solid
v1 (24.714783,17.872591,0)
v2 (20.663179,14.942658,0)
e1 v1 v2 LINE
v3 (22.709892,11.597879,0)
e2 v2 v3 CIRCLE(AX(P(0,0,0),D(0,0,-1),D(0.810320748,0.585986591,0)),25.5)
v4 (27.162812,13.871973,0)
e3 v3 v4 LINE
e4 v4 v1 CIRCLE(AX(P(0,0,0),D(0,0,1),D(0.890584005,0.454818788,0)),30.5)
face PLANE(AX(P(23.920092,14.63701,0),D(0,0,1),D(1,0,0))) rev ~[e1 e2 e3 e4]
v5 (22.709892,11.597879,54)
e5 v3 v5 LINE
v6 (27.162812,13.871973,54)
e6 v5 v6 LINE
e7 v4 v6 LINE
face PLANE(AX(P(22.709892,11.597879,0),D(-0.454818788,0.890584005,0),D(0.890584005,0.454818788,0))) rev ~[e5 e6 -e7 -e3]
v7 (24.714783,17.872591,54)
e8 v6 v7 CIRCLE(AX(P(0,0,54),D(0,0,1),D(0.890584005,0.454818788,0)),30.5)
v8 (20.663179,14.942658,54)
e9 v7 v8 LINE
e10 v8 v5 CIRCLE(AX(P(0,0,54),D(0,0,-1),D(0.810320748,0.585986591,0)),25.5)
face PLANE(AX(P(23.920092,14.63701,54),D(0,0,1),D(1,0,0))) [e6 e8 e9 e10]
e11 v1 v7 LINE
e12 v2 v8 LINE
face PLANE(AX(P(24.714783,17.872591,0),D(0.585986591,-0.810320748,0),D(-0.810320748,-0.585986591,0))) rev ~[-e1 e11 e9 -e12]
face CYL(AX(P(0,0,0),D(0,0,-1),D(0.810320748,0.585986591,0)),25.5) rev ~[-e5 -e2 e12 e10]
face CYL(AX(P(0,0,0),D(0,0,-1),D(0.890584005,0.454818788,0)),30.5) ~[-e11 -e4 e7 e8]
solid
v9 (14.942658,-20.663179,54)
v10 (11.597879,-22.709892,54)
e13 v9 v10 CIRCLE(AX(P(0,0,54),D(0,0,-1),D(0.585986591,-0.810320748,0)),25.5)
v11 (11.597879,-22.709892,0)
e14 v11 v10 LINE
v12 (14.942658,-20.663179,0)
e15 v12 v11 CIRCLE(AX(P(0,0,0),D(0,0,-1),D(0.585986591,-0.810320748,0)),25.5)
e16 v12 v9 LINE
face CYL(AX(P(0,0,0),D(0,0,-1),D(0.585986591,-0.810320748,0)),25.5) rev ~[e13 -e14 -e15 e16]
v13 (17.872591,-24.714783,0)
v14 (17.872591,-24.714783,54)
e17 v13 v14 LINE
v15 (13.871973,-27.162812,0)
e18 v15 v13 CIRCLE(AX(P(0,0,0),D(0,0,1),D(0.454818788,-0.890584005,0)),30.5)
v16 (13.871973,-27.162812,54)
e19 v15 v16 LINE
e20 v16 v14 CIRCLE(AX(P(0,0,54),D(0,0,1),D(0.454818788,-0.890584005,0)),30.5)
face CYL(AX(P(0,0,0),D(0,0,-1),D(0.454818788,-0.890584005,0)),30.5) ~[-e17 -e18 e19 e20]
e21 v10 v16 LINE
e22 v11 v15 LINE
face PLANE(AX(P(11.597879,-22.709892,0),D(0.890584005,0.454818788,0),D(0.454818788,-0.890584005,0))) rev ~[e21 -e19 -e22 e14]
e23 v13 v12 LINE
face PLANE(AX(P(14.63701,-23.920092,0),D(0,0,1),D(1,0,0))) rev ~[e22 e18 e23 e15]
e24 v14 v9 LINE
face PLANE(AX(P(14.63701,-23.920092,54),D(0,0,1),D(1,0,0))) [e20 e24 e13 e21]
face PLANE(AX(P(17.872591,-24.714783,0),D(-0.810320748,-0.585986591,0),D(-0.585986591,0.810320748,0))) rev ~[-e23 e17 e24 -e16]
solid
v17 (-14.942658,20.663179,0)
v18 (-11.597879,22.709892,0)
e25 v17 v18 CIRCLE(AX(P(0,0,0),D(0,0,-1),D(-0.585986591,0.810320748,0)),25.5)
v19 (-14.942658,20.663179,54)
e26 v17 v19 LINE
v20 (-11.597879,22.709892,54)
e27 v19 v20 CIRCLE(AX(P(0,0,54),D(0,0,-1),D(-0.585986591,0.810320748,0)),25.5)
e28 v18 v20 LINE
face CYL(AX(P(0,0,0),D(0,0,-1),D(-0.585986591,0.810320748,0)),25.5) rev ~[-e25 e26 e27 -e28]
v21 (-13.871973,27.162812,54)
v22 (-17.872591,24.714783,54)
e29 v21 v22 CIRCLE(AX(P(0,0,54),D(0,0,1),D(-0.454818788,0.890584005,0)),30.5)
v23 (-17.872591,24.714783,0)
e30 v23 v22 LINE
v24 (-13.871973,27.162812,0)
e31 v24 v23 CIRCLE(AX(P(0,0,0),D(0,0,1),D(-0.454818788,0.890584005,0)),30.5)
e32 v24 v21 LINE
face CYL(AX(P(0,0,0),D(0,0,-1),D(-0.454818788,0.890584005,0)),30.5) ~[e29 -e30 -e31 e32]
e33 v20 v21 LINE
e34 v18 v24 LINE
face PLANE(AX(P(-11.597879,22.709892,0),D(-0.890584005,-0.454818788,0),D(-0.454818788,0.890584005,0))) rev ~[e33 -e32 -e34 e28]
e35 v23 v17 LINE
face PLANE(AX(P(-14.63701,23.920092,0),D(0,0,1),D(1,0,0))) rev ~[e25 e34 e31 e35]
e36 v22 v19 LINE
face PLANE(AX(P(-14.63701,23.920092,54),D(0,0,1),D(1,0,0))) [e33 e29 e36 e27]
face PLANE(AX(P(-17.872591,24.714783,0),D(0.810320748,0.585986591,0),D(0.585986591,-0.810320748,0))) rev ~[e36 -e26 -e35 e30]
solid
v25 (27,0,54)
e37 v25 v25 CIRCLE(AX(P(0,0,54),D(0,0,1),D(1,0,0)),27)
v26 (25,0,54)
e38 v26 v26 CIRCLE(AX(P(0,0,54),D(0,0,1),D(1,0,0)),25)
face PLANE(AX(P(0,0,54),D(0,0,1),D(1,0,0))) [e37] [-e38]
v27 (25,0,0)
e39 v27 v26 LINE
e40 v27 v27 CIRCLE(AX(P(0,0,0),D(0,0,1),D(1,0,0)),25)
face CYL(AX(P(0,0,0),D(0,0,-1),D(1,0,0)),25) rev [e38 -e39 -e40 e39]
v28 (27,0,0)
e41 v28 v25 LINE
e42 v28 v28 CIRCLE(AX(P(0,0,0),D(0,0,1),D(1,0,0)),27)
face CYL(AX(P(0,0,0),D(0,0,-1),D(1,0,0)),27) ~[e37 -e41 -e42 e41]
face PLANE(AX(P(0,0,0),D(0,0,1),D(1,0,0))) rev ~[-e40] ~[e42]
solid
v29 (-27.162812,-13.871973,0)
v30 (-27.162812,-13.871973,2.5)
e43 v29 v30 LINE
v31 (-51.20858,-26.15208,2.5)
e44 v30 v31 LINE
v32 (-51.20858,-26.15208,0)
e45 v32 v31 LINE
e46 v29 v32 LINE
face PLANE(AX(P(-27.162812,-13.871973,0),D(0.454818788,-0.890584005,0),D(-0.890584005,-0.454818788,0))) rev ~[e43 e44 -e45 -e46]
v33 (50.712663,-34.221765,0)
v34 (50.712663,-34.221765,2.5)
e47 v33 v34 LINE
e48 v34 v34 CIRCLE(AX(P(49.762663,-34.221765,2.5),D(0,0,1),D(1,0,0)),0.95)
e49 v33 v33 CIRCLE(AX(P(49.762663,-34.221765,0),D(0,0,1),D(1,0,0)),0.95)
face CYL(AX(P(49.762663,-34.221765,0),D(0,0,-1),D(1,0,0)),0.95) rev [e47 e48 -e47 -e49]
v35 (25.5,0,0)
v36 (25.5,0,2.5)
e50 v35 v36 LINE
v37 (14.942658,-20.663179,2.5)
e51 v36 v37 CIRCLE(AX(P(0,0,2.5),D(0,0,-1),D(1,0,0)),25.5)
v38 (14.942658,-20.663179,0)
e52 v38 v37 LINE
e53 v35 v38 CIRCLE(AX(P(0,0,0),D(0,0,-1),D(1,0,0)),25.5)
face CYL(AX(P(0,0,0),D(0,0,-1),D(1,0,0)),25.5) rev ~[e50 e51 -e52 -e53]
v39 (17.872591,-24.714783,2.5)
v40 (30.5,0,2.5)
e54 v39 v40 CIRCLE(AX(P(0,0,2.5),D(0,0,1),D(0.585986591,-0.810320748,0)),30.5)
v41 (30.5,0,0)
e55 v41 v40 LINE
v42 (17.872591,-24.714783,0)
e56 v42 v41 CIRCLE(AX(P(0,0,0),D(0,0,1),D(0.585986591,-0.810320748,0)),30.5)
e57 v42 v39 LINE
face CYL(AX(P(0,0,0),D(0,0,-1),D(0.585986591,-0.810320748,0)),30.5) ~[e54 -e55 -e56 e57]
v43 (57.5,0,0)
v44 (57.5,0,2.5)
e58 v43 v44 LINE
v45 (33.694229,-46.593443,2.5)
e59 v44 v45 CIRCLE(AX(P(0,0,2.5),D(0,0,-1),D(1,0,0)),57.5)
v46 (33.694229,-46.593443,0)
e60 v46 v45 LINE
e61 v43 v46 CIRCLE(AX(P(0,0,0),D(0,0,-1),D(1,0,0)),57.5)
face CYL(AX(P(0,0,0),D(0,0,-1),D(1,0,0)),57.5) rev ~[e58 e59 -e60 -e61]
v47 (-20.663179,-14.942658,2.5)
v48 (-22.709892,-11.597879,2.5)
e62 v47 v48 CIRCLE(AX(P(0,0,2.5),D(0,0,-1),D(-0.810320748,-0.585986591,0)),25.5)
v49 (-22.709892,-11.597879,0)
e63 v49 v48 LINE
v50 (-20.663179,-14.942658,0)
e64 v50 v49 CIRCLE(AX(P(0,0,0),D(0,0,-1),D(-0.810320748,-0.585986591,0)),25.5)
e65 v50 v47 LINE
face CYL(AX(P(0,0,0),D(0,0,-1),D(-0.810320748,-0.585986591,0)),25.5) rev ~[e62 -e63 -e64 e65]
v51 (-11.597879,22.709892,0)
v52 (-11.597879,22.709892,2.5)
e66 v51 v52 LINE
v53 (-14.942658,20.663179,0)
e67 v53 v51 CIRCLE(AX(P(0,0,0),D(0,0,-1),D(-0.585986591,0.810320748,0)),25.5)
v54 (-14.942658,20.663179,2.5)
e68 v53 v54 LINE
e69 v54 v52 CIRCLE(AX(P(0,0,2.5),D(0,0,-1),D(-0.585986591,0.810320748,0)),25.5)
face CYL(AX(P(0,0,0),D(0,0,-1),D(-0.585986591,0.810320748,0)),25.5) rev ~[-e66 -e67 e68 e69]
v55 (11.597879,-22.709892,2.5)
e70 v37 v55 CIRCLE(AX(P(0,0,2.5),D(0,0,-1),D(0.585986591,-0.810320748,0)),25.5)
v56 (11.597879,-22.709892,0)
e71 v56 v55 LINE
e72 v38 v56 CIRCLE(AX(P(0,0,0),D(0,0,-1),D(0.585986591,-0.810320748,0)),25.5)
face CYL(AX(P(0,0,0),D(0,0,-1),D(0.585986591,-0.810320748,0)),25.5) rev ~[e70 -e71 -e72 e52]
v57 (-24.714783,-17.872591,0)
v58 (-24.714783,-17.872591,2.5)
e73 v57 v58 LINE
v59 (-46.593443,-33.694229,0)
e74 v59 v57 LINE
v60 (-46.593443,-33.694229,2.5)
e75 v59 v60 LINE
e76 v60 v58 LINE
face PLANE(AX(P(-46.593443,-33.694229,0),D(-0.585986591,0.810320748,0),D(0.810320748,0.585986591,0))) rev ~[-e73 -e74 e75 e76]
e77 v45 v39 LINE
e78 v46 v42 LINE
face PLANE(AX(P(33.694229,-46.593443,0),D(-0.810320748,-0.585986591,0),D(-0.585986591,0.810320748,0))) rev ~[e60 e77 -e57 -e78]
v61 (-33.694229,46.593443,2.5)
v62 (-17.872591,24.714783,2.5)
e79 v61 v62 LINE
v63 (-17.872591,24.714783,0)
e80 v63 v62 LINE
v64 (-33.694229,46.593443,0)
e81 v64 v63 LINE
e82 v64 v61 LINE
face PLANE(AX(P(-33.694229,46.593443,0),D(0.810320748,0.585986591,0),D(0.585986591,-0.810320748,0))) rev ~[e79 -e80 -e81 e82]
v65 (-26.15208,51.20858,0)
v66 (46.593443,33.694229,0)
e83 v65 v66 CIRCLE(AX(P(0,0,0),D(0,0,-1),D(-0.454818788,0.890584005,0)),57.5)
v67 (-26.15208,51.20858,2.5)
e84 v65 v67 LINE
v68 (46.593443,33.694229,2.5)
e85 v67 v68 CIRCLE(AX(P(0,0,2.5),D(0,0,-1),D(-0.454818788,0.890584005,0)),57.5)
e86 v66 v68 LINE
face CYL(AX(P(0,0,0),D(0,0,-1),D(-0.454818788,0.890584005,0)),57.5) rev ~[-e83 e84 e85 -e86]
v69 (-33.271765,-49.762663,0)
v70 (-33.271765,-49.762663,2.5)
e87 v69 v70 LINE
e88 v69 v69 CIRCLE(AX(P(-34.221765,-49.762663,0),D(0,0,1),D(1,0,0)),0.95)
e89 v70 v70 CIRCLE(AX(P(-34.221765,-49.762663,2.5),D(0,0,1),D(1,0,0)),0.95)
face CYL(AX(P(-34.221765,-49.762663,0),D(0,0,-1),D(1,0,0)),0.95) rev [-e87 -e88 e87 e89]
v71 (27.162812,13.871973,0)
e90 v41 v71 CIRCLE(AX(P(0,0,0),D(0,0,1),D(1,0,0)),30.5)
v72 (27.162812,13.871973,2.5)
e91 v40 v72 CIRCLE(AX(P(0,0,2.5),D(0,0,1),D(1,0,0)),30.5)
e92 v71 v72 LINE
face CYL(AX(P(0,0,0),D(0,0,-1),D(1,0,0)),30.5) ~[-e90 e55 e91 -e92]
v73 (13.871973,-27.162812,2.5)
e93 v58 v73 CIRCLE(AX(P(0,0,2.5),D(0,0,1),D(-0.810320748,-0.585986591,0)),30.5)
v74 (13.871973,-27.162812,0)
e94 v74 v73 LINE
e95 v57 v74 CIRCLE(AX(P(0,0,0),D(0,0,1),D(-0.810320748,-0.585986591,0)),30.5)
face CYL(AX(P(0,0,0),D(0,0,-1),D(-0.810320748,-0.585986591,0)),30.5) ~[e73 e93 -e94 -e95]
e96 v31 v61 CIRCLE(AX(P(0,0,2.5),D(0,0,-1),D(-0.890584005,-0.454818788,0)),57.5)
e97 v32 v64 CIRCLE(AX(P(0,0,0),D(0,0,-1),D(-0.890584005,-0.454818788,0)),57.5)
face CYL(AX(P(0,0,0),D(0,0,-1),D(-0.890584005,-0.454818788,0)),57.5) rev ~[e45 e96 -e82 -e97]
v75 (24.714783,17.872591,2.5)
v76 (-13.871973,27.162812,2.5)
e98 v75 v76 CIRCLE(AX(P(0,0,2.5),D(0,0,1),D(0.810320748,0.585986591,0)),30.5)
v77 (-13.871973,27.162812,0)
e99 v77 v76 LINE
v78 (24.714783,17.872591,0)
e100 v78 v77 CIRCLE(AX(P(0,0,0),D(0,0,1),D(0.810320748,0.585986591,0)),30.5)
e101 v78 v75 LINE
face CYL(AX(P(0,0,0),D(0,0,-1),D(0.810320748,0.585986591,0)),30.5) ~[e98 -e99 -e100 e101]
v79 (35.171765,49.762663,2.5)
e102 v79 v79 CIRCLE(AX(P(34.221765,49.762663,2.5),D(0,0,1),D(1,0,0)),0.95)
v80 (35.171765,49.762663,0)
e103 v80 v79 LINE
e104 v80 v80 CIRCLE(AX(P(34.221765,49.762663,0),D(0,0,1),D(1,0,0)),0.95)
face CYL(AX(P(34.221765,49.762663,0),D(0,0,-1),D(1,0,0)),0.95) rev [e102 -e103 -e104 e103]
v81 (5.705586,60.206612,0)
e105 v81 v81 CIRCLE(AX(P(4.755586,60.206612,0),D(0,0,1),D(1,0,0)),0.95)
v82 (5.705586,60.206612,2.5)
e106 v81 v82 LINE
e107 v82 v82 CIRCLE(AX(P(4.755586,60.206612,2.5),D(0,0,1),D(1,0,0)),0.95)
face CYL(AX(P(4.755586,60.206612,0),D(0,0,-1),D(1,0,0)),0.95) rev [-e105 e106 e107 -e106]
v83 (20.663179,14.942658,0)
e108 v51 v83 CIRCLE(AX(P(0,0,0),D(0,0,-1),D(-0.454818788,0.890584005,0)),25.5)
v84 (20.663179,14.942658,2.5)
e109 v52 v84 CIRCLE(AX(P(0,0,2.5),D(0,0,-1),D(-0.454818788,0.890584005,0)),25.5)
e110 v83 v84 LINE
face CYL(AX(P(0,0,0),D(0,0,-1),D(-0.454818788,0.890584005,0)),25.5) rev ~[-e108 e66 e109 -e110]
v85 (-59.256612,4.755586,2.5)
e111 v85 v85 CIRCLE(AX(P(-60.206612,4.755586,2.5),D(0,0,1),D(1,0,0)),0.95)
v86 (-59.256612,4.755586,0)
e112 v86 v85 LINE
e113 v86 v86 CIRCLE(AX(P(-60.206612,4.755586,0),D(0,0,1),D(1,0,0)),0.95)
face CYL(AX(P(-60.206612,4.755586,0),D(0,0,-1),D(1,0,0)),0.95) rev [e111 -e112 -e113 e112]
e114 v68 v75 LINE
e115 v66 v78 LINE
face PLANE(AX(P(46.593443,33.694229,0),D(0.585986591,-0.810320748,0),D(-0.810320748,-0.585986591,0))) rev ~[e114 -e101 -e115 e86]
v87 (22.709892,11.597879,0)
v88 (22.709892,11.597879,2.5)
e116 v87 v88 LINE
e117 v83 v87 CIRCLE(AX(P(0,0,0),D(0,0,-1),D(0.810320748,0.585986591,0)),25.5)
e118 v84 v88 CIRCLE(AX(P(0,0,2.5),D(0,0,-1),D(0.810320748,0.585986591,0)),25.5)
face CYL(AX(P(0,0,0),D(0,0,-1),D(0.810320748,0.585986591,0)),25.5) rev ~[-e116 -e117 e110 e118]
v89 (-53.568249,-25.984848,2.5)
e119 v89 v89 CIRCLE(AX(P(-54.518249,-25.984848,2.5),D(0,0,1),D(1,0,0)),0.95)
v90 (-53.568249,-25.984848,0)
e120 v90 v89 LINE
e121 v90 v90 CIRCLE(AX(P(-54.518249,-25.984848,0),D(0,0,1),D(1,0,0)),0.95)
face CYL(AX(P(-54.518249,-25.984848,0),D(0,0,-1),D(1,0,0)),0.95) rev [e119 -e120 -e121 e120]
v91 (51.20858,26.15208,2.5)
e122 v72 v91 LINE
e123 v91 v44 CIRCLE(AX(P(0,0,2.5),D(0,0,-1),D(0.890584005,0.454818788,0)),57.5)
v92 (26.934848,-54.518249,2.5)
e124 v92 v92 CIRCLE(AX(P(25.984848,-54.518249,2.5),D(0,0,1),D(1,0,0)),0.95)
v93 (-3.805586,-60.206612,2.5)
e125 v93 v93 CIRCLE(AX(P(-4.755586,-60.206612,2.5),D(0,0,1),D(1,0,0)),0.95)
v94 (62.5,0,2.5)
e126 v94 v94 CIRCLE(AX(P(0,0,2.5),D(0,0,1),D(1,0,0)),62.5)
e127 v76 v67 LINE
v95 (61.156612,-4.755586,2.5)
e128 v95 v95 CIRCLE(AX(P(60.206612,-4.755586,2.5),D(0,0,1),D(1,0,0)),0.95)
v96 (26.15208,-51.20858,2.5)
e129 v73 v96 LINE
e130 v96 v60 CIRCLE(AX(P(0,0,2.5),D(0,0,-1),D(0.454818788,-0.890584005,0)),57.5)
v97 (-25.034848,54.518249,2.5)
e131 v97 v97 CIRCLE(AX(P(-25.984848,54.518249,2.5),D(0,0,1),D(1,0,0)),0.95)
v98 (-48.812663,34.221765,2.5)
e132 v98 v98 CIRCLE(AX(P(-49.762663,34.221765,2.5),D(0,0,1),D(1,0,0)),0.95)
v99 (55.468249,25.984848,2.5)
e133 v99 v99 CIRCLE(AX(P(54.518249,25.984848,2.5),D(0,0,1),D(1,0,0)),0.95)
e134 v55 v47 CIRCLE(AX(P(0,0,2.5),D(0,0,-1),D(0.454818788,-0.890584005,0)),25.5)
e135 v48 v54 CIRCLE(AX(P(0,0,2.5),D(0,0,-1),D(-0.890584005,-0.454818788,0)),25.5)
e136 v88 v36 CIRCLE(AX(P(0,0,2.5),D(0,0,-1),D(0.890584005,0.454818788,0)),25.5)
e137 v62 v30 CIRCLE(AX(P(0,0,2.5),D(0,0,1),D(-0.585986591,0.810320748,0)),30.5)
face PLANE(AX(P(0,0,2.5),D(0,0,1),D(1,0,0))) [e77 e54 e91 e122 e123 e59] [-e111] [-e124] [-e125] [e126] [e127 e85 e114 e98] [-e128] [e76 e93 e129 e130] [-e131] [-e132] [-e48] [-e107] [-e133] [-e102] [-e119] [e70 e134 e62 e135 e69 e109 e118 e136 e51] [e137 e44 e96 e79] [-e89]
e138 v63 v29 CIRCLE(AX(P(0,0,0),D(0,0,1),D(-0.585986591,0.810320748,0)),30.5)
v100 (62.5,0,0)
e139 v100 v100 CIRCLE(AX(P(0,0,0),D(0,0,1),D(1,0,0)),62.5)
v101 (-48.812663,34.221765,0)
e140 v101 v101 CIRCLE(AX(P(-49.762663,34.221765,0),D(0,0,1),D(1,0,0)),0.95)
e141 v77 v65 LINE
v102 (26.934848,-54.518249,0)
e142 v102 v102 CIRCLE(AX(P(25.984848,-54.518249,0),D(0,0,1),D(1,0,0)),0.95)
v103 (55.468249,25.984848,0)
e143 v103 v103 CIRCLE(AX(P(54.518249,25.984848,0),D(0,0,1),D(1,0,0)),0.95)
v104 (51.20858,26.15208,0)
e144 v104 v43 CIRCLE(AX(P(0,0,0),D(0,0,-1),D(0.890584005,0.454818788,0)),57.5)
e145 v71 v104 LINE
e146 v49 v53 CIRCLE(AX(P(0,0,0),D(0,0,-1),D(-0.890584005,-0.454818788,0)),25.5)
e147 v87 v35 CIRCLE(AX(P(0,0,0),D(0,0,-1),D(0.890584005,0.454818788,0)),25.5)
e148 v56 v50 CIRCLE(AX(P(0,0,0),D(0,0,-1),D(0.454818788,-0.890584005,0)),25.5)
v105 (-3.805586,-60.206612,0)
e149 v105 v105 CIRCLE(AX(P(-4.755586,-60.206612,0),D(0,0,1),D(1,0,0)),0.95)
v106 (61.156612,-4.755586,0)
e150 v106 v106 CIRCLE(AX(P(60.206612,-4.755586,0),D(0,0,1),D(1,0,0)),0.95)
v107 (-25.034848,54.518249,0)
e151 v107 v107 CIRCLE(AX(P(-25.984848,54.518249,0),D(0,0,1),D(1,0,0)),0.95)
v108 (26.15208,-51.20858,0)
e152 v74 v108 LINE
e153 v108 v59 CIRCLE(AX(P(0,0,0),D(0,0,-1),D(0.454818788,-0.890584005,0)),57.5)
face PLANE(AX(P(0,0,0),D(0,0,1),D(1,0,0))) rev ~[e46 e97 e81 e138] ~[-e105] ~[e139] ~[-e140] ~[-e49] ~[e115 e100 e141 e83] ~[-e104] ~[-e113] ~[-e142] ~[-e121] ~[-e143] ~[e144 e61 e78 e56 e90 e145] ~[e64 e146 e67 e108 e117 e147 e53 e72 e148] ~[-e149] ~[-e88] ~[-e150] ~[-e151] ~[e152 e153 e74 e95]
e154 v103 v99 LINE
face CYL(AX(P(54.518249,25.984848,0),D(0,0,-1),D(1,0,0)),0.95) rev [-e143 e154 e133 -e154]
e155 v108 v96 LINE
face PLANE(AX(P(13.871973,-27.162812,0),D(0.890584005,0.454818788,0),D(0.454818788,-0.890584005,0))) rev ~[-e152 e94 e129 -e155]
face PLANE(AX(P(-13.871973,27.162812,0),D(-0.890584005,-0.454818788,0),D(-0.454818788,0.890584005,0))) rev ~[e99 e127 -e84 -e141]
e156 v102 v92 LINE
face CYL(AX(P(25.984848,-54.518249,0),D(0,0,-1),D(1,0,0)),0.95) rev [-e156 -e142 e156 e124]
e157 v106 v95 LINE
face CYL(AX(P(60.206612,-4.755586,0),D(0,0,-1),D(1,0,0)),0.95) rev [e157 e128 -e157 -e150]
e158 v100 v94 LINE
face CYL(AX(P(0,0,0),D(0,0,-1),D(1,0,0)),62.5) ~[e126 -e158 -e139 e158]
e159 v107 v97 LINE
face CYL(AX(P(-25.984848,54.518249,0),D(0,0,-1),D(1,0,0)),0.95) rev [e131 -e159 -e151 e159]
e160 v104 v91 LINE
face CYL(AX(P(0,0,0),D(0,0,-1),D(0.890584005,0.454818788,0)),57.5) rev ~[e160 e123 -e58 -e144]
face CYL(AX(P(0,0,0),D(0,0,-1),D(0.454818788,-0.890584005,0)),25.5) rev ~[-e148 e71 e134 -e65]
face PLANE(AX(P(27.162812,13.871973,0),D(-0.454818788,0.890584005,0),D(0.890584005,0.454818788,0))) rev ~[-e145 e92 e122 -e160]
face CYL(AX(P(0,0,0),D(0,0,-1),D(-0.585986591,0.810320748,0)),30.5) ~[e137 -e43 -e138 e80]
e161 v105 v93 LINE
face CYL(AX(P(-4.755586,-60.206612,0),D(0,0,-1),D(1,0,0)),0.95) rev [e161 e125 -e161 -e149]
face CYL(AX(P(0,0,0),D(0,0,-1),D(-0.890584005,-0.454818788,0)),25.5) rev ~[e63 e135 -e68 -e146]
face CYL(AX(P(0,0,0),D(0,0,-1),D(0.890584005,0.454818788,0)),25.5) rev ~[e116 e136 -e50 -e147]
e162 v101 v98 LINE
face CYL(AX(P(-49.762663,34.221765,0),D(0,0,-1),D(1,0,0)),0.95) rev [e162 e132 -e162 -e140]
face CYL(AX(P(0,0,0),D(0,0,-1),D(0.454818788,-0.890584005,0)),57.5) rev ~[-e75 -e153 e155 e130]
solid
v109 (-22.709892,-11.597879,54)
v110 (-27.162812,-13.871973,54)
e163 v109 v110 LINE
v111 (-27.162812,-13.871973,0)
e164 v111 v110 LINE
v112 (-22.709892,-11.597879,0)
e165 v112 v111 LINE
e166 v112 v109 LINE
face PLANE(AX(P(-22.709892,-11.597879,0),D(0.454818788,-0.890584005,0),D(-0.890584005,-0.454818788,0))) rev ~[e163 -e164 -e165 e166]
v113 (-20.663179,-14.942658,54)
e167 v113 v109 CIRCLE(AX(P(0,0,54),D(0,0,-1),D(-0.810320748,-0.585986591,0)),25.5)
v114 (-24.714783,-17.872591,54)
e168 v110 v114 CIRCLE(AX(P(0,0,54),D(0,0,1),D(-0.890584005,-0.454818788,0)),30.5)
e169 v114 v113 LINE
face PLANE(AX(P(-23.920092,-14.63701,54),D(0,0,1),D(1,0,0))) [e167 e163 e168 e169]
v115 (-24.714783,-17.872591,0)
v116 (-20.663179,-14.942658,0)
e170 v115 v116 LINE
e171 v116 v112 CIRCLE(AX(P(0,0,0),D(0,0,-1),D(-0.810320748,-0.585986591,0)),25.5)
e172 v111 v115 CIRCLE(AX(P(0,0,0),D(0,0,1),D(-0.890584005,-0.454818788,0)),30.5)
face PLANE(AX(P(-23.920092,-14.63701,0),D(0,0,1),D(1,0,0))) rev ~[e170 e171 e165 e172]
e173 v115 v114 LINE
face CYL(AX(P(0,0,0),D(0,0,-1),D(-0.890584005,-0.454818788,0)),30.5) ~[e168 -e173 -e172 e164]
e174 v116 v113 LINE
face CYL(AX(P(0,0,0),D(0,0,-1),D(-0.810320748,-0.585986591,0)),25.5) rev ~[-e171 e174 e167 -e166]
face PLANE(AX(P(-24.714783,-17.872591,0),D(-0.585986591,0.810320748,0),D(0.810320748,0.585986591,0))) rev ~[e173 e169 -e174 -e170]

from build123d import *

# Parameters (mm, degrees)
F0_R     = 62.5
F0_R_2   = 0.95
F1_DEPTH = 2.5
F2_DEPTH = 54
F3_R     = 27
F3_R_2   = 25
F4_DEPTH = 54


with BuildPart() as f1:
    # F0 (on Top) → F1 (new body)
    with BuildSketch(Plane.XY):
        Circle(F0_R)
        with Locations((-34.2217646539, -49.7626625001)):
            Circle(F0_R_2, mode=Mode.SUBTRACT)
        with Locations((-4.7555863026, -60.206612212)):
            Circle(F0_R_2, mode=Mode.SUBTRACT)
        with Locations((-54.5182488027, -25.9848475581)):
            Circle(F0_R_2, mode=Mode.SUBTRACT)
        with Locations((25.9848475581, -54.5182488027)):
            Circle(F0_R_2, mode=Mode.SUBTRACT)
        with Locations((49.7626625001, -34.2217646539)):
            Circle(F0_R_2, mode=Mode.SUBTRACT)
        with Locations((60.206612212, -4.7555863026)):
            Circle(F0_R_2, mode=Mode.SUBTRACT)
        with Locations((-60.206612212, 4.7555863026)):
            Circle(F0_R_2, mode=Mode.SUBTRACT)
        with Locations((-49.7626625001, 34.2217646539)):
            Circle(F0_R_2, mode=Mode.SUBTRACT)
        with Locations((-25.9848475581, 54.5182488027)):
            Circle(F0_R_2, mode=Mode.SUBTRACT)
        with BuildLine():
            ThreePointArc((46.5934430221, 33.6942289918), (49.0462021275, 30.0119985484), (51.2085802984, 26.1520802962))
            ThreePointArc((51.2085802984, 26.1520802962), (55.9050237777, 13.4491009521), (57.5, 0))
            ThreePointArc((57.5, 0), (51.2038483272, -26.161343935), (33.6942289918, -46.5934430221))
            ThreePointArc((33.6942289918, -46.5934430221), (30.0119985484, -49.0462021275), (26.1520802962, -51.2085802984))
            ThreePointArc((26.1520802962, -51.2085802984), (-13.4592144253, -55.9025898063), (-46.5934430221, -33.6942289918))
            ThreePointArc((-46.5934430221, -33.6942289918), (-49.0462021275, -30.0119985484), (-51.2085802984, -26.1520802962))
            ThreePointArc((-51.2085802984, -26.1520802962), (-55.9025898063, 13.4592144253), (-33.6942289918, 46.5934430221))
            ThreePointArc((-33.6942289918, 46.5934430221), (-30.0119985484, 49.0462021275), (-26.1520802962, 51.2085802984))
            ThreePointArc((-26.1520802962, 51.2085802984), (13.4592144253, 55.9025898063), (46.5934430221, 33.6942289918))
        make_face(mode=Mode.SUBTRACT)
        with Locations((54.5182488027, 25.9848475581)):
            Circle(F0_R_2, mode=Mode.SUBTRACT)
        with Locations((4.7555863026, 60.206612212)):
            Circle(F0_R_2, mode=Mode.SUBTRACT)
        with Locations((34.2217646539, 49.7626625001)):
            Circle(F0_R_2, mode=Mode.SUBTRACT)
        with BuildLine():
            ThreePointArc((-17.8725910304, 24.7147828204), (-15.9194079257, 26.0158115633), (-13.8719730267, 27.1628121583))
            Line((-13.8719730267, 27.1628121583), (-26.1520802962, 51.2085802984))
            ThreePointArc((-26.1520802962, 51.2085802984), (-30.0119985484, 49.0462021275), (-33.6942289918, 46.5934430221))
            Line((-33.6942289918, 46.5934430221), (-17.8725910304, 24.7147828204))
        make_face()
        with BuildLine():
            ThreePointArc((24.7147828204, 17.8725910304), (26.0158115633, 15.9194079257), (27.1628121583, 13.8719730267))
            Line((27.1628121583, 13.8719730267), (51.2085802984, 26.1520802962))
            ThreePointArc((51.2085802984, 26.1520802962), (49.0462021275, 30.0119985484), (46.5934430221, 33.6942289918))
            Line((46.5934430221, 33.6942289918), (24.7147828204, 17.8725910304))
        make_face()
        with BuildLine():
            Line((-46.5934430221, -33.6942289918), (-24.7147828204, -17.8725910304))
            ThreePointArc((-24.7147828204, -17.8725910304), (-26.0158115633, -15.9194079257), (-27.1628121583, -13.8719730267))
            Line((-27.1628121583, -13.8719730267), (-51.2085802984, -26.1520802962))
            ThreePointArc((-51.2085802984, -26.1520802962), (-49.0462021275, -30.0119985484), (-46.5934430221, -33.6942289918))
        make_face()
        with BuildLine():
            Line((33.6942289918, -46.5934430221), (17.8725910304, -24.7147828204))
            ThreePointArc((17.8725910304, -24.7147828204), (15.9194079257, -26.0158115633), (13.8719730267, -27.1628121583))
            Line((13.8719730267, -27.1628121583), (26.1520802962, -51.2085802984))
            ThreePointArc((26.1520802962, -51.2085802984), (30.0119985484, -49.0462021275), (33.6942289918, -46.5934430221))
        make_face()
        with BuildLine():
            Line((-24.7147828204, -17.8725910304), (-20.6631790793, -14.9426580746))
            ThreePointArc((-20.6631790793, -14.9426580746), (-21.7509244218, -13.3096689215), (-22.7098921323, -11.5978790879))
            Line((-22.7098921323, -11.5978790879), (-27.1628121583, -13.8719730267))
            ThreePointArc((-27.1628121583, -13.8719730267), (-26.0158115633, -15.9194079257), (-24.7147828204, -17.8725910304))
        make_face()
        with BuildLine():
            ThreePointArc((-22.7098921323, -11.5978790879), (-24.7915833054, 5.968869006), (-14.9426580746, 20.6631790793))
            Line((-14.9426580746, 20.6631790793), (-17.8725910304, 24.7147828204))
            ThreePointArc((-17.8725910304, 24.7147828204), (-29.6526780712, 7.1392354778), (-27.1628121583, -13.8719730267))
            Line((-27.1628121583, -13.8719730267), (-22.7098921323, -11.5978790879))
        make_face()
        with BuildLine():
            ThreePointArc((22.7098921323, 11.5978790879), (24.7926627188, 5.9643839005), (25.5, 0))
            ThreePointArc((25.5, 0), (22.707793606, -11.6019873103), (14.9426580746, -20.6631790793))
            Line((14.9426580746, -20.6631790793), (17.8725910304, -24.7147828204))
            ThreePointArc((17.8725910304, -24.7147828204), (27.1603021562, -13.8768867829), (30.5, 0))
            ThreePointArc((30.5, 0), (29.6539691342, 7.1338709398), (27.1628121583, 13.8719730267))
            Line((27.1628121583, 13.8719730267), (22.7098921323, 11.5978790879))
        make_face()
        with BuildLine():
            Line((17.8725910304, -24.7147828204), (14.9426580746, -20.6631790793))
            ThreePointArc((14.9426580746, -20.6631790793), (13.3096689215, -21.7509244218), (11.5978790879, -22.7098921323))
            Line((11.5978790879, -22.7098921323), (13.8719730267, -27.1628121583))
            ThreePointArc((13.8719730267, -27.1628121583), (15.9194079257, -26.0158115633), (17.8725910304, -24.7147828204))
        make_face()
        with BuildLine():
            ThreePointArc((20.6631790793, 14.9426580746), (21.7509244218, 13.3096689215), (22.7098921323, 11.5978790879))
            Line((22.7098921323, 11.5978790879), (27.1628121583, 13.8719730267))
            ThreePointArc((27.1628121583, 13.8719730267), (26.0158115633, 15.9194079257), (24.7147828204, 17.8725910304))
            Line((24.7147828204, 17.8725910304), (20.6631790793, 14.9426580746))
        make_face()
        with BuildLine():
            ThreePointArc((-11.5978790879, 22.7098921323), (5.968869006, 24.7915833054), (20.6631790793, 14.9426580746))
            Line((20.6631790793, 14.9426580746), (24.7147828204, 17.8725910304))
            ThreePointArc((24.7147828204, 17.8725910304), (7.1392354778, 29.6526780712), (-13.8719730267, 27.1628121583))
            Line((-13.8719730267, 27.1628121583), (-11.5978790879, 22.7098921323))
        make_face()
        with BuildLine():
            ThreePointArc((-14.9426580746, 20.6631790793), (-13.3096689215, 21.7509244218), (-11.5978790879, 22.7098921323))
            Line((-11.5978790879, 22.7098921323), (-13.8719730267, 27.1628121583))
            ThreePointArc((-13.8719730267, 27.1628121583), (-15.9194079257, 26.0158115633), (-17.8725910304, 24.7147828204))
            Line((-17.8725910304, 24.7147828204), (-14.9426580746, 20.6631790793))
        make_face()
        with BuildLine():
            Line((13.8719730267, -27.1628121583), (11.5978790879, -22.7098921323))
            ThreePointArc((11.5978790879, -22.7098921323), (-5.968869006, -24.7915833054), (-20.6631790793, -14.9426580746))
            Line((-20.6631790793, -14.9426580746), (-24.7147828204, -17.8725910304))
            ThreePointArc((-24.7147828204, -17.8725910304), (-7.1392354778, -29.6526780712), (13.8719730267, -27.1628121583))
        make_face()
    extrude(amount=F1_DEPTH)


with BuildPart() as f2:
    # F0 (on Top) → F2 (new body)
    with BuildSketch(Plane.XY):
        with BuildLine():
            ThreePointArc((-14.9426580746, 20.6631790793), (-13.3096689215, 21.7509244218), (-11.5978790879, 22.7098921323))
            Line((-11.5978790879, 22.7098921323), (-13.8719730267, 27.1628121583))
            ThreePointArc((-13.8719730267, 27.1628121583), (-15.9194079257, 26.0158115633), (-17.8725910304, 24.7147828204))
            Line((-17.8725910304, 24.7147828204), (-14.9426580746, 20.6631790793))
        make_face()
    extrude(amount=F2_DEPTH)


with BuildPart() as f2b:
    # F0 (on Top) → F2, piece 2 (new body)
    with BuildSketch(Plane.XY):
        with BuildLine():
            ThreePointArc((20.6631790793, 14.9426580746), (21.7509244218, 13.3096689215), (22.7098921323, 11.5978790879))
            Line((22.7098921323, 11.5978790879), (27.1628121583, 13.8719730267))
            ThreePointArc((27.1628121583, 13.8719730267), (26.0158115633, 15.9194079257), (24.7147828204, 17.8725910304))
            Line((24.7147828204, 17.8725910304), (20.6631790793, 14.9426580746))
        make_face()
    extrude(amount=F2_DEPTH)


with BuildPart() as f2c:
    # F0 (on Top) → F2, piece 3 (new body)
    with BuildSketch(Plane.XY):
        with BuildLine():
            Line((-24.7147828204, -17.8725910304), (-20.6631790793, -14.9426580746))
            ThreePointArc((-20.6631790793, -14.9426580746), (-21.7509244218, -13.3096689215), (-22.7098921323, -11.5978790879))
            Line((-22.7098921323, -11.5978790879), (-27.1628121583, -13.8719730267))
            ThreePointArc((-27.1628121583, -13.8719730267), (-26.0158115633, -15.9194079257), (-24.7147828204, -17.8725910304))
        make_face()
    extrude(amount=F2_DEPTH)


with BuildPart() as f2d:
    # F0 (on Top) → F2, piece 4 (new body)
    with BuildSketch(Plane.XY):
        with BuildLine():
            Line((17.8725910304, -24.7147828204), (14.9426580746, -20.6631790793))
            ThreePointArc((14.9426580746, -20.6631790793), (13.3096689215, -21.7509244218), (11.5978790879, -22.7098921323))
            Line((11.5978790879, -22.7098921323), (13.8719730267, -27.1628121583))
            ThreePointArc((13.8719730267, -27.1628121583), (15.9194079257, -26.0158115633), (17.8725910304, -24.7147828204))
        make_face()
    extrude(amount=F2_DEPTH)


with BuildPart() as f4:
    # F3 (on face) → F4 (new body)
    with BuildSketch(Plane.XY):
        Circle(F3_R)
        Circle(F3_R_2, mode=Mode.SUBTRACT)
    extrude(amount=F4_DEPTH)


solid = Compound([f1.part, f2.part, f2b.part, f2c.part, f2d.part, f4.part])
